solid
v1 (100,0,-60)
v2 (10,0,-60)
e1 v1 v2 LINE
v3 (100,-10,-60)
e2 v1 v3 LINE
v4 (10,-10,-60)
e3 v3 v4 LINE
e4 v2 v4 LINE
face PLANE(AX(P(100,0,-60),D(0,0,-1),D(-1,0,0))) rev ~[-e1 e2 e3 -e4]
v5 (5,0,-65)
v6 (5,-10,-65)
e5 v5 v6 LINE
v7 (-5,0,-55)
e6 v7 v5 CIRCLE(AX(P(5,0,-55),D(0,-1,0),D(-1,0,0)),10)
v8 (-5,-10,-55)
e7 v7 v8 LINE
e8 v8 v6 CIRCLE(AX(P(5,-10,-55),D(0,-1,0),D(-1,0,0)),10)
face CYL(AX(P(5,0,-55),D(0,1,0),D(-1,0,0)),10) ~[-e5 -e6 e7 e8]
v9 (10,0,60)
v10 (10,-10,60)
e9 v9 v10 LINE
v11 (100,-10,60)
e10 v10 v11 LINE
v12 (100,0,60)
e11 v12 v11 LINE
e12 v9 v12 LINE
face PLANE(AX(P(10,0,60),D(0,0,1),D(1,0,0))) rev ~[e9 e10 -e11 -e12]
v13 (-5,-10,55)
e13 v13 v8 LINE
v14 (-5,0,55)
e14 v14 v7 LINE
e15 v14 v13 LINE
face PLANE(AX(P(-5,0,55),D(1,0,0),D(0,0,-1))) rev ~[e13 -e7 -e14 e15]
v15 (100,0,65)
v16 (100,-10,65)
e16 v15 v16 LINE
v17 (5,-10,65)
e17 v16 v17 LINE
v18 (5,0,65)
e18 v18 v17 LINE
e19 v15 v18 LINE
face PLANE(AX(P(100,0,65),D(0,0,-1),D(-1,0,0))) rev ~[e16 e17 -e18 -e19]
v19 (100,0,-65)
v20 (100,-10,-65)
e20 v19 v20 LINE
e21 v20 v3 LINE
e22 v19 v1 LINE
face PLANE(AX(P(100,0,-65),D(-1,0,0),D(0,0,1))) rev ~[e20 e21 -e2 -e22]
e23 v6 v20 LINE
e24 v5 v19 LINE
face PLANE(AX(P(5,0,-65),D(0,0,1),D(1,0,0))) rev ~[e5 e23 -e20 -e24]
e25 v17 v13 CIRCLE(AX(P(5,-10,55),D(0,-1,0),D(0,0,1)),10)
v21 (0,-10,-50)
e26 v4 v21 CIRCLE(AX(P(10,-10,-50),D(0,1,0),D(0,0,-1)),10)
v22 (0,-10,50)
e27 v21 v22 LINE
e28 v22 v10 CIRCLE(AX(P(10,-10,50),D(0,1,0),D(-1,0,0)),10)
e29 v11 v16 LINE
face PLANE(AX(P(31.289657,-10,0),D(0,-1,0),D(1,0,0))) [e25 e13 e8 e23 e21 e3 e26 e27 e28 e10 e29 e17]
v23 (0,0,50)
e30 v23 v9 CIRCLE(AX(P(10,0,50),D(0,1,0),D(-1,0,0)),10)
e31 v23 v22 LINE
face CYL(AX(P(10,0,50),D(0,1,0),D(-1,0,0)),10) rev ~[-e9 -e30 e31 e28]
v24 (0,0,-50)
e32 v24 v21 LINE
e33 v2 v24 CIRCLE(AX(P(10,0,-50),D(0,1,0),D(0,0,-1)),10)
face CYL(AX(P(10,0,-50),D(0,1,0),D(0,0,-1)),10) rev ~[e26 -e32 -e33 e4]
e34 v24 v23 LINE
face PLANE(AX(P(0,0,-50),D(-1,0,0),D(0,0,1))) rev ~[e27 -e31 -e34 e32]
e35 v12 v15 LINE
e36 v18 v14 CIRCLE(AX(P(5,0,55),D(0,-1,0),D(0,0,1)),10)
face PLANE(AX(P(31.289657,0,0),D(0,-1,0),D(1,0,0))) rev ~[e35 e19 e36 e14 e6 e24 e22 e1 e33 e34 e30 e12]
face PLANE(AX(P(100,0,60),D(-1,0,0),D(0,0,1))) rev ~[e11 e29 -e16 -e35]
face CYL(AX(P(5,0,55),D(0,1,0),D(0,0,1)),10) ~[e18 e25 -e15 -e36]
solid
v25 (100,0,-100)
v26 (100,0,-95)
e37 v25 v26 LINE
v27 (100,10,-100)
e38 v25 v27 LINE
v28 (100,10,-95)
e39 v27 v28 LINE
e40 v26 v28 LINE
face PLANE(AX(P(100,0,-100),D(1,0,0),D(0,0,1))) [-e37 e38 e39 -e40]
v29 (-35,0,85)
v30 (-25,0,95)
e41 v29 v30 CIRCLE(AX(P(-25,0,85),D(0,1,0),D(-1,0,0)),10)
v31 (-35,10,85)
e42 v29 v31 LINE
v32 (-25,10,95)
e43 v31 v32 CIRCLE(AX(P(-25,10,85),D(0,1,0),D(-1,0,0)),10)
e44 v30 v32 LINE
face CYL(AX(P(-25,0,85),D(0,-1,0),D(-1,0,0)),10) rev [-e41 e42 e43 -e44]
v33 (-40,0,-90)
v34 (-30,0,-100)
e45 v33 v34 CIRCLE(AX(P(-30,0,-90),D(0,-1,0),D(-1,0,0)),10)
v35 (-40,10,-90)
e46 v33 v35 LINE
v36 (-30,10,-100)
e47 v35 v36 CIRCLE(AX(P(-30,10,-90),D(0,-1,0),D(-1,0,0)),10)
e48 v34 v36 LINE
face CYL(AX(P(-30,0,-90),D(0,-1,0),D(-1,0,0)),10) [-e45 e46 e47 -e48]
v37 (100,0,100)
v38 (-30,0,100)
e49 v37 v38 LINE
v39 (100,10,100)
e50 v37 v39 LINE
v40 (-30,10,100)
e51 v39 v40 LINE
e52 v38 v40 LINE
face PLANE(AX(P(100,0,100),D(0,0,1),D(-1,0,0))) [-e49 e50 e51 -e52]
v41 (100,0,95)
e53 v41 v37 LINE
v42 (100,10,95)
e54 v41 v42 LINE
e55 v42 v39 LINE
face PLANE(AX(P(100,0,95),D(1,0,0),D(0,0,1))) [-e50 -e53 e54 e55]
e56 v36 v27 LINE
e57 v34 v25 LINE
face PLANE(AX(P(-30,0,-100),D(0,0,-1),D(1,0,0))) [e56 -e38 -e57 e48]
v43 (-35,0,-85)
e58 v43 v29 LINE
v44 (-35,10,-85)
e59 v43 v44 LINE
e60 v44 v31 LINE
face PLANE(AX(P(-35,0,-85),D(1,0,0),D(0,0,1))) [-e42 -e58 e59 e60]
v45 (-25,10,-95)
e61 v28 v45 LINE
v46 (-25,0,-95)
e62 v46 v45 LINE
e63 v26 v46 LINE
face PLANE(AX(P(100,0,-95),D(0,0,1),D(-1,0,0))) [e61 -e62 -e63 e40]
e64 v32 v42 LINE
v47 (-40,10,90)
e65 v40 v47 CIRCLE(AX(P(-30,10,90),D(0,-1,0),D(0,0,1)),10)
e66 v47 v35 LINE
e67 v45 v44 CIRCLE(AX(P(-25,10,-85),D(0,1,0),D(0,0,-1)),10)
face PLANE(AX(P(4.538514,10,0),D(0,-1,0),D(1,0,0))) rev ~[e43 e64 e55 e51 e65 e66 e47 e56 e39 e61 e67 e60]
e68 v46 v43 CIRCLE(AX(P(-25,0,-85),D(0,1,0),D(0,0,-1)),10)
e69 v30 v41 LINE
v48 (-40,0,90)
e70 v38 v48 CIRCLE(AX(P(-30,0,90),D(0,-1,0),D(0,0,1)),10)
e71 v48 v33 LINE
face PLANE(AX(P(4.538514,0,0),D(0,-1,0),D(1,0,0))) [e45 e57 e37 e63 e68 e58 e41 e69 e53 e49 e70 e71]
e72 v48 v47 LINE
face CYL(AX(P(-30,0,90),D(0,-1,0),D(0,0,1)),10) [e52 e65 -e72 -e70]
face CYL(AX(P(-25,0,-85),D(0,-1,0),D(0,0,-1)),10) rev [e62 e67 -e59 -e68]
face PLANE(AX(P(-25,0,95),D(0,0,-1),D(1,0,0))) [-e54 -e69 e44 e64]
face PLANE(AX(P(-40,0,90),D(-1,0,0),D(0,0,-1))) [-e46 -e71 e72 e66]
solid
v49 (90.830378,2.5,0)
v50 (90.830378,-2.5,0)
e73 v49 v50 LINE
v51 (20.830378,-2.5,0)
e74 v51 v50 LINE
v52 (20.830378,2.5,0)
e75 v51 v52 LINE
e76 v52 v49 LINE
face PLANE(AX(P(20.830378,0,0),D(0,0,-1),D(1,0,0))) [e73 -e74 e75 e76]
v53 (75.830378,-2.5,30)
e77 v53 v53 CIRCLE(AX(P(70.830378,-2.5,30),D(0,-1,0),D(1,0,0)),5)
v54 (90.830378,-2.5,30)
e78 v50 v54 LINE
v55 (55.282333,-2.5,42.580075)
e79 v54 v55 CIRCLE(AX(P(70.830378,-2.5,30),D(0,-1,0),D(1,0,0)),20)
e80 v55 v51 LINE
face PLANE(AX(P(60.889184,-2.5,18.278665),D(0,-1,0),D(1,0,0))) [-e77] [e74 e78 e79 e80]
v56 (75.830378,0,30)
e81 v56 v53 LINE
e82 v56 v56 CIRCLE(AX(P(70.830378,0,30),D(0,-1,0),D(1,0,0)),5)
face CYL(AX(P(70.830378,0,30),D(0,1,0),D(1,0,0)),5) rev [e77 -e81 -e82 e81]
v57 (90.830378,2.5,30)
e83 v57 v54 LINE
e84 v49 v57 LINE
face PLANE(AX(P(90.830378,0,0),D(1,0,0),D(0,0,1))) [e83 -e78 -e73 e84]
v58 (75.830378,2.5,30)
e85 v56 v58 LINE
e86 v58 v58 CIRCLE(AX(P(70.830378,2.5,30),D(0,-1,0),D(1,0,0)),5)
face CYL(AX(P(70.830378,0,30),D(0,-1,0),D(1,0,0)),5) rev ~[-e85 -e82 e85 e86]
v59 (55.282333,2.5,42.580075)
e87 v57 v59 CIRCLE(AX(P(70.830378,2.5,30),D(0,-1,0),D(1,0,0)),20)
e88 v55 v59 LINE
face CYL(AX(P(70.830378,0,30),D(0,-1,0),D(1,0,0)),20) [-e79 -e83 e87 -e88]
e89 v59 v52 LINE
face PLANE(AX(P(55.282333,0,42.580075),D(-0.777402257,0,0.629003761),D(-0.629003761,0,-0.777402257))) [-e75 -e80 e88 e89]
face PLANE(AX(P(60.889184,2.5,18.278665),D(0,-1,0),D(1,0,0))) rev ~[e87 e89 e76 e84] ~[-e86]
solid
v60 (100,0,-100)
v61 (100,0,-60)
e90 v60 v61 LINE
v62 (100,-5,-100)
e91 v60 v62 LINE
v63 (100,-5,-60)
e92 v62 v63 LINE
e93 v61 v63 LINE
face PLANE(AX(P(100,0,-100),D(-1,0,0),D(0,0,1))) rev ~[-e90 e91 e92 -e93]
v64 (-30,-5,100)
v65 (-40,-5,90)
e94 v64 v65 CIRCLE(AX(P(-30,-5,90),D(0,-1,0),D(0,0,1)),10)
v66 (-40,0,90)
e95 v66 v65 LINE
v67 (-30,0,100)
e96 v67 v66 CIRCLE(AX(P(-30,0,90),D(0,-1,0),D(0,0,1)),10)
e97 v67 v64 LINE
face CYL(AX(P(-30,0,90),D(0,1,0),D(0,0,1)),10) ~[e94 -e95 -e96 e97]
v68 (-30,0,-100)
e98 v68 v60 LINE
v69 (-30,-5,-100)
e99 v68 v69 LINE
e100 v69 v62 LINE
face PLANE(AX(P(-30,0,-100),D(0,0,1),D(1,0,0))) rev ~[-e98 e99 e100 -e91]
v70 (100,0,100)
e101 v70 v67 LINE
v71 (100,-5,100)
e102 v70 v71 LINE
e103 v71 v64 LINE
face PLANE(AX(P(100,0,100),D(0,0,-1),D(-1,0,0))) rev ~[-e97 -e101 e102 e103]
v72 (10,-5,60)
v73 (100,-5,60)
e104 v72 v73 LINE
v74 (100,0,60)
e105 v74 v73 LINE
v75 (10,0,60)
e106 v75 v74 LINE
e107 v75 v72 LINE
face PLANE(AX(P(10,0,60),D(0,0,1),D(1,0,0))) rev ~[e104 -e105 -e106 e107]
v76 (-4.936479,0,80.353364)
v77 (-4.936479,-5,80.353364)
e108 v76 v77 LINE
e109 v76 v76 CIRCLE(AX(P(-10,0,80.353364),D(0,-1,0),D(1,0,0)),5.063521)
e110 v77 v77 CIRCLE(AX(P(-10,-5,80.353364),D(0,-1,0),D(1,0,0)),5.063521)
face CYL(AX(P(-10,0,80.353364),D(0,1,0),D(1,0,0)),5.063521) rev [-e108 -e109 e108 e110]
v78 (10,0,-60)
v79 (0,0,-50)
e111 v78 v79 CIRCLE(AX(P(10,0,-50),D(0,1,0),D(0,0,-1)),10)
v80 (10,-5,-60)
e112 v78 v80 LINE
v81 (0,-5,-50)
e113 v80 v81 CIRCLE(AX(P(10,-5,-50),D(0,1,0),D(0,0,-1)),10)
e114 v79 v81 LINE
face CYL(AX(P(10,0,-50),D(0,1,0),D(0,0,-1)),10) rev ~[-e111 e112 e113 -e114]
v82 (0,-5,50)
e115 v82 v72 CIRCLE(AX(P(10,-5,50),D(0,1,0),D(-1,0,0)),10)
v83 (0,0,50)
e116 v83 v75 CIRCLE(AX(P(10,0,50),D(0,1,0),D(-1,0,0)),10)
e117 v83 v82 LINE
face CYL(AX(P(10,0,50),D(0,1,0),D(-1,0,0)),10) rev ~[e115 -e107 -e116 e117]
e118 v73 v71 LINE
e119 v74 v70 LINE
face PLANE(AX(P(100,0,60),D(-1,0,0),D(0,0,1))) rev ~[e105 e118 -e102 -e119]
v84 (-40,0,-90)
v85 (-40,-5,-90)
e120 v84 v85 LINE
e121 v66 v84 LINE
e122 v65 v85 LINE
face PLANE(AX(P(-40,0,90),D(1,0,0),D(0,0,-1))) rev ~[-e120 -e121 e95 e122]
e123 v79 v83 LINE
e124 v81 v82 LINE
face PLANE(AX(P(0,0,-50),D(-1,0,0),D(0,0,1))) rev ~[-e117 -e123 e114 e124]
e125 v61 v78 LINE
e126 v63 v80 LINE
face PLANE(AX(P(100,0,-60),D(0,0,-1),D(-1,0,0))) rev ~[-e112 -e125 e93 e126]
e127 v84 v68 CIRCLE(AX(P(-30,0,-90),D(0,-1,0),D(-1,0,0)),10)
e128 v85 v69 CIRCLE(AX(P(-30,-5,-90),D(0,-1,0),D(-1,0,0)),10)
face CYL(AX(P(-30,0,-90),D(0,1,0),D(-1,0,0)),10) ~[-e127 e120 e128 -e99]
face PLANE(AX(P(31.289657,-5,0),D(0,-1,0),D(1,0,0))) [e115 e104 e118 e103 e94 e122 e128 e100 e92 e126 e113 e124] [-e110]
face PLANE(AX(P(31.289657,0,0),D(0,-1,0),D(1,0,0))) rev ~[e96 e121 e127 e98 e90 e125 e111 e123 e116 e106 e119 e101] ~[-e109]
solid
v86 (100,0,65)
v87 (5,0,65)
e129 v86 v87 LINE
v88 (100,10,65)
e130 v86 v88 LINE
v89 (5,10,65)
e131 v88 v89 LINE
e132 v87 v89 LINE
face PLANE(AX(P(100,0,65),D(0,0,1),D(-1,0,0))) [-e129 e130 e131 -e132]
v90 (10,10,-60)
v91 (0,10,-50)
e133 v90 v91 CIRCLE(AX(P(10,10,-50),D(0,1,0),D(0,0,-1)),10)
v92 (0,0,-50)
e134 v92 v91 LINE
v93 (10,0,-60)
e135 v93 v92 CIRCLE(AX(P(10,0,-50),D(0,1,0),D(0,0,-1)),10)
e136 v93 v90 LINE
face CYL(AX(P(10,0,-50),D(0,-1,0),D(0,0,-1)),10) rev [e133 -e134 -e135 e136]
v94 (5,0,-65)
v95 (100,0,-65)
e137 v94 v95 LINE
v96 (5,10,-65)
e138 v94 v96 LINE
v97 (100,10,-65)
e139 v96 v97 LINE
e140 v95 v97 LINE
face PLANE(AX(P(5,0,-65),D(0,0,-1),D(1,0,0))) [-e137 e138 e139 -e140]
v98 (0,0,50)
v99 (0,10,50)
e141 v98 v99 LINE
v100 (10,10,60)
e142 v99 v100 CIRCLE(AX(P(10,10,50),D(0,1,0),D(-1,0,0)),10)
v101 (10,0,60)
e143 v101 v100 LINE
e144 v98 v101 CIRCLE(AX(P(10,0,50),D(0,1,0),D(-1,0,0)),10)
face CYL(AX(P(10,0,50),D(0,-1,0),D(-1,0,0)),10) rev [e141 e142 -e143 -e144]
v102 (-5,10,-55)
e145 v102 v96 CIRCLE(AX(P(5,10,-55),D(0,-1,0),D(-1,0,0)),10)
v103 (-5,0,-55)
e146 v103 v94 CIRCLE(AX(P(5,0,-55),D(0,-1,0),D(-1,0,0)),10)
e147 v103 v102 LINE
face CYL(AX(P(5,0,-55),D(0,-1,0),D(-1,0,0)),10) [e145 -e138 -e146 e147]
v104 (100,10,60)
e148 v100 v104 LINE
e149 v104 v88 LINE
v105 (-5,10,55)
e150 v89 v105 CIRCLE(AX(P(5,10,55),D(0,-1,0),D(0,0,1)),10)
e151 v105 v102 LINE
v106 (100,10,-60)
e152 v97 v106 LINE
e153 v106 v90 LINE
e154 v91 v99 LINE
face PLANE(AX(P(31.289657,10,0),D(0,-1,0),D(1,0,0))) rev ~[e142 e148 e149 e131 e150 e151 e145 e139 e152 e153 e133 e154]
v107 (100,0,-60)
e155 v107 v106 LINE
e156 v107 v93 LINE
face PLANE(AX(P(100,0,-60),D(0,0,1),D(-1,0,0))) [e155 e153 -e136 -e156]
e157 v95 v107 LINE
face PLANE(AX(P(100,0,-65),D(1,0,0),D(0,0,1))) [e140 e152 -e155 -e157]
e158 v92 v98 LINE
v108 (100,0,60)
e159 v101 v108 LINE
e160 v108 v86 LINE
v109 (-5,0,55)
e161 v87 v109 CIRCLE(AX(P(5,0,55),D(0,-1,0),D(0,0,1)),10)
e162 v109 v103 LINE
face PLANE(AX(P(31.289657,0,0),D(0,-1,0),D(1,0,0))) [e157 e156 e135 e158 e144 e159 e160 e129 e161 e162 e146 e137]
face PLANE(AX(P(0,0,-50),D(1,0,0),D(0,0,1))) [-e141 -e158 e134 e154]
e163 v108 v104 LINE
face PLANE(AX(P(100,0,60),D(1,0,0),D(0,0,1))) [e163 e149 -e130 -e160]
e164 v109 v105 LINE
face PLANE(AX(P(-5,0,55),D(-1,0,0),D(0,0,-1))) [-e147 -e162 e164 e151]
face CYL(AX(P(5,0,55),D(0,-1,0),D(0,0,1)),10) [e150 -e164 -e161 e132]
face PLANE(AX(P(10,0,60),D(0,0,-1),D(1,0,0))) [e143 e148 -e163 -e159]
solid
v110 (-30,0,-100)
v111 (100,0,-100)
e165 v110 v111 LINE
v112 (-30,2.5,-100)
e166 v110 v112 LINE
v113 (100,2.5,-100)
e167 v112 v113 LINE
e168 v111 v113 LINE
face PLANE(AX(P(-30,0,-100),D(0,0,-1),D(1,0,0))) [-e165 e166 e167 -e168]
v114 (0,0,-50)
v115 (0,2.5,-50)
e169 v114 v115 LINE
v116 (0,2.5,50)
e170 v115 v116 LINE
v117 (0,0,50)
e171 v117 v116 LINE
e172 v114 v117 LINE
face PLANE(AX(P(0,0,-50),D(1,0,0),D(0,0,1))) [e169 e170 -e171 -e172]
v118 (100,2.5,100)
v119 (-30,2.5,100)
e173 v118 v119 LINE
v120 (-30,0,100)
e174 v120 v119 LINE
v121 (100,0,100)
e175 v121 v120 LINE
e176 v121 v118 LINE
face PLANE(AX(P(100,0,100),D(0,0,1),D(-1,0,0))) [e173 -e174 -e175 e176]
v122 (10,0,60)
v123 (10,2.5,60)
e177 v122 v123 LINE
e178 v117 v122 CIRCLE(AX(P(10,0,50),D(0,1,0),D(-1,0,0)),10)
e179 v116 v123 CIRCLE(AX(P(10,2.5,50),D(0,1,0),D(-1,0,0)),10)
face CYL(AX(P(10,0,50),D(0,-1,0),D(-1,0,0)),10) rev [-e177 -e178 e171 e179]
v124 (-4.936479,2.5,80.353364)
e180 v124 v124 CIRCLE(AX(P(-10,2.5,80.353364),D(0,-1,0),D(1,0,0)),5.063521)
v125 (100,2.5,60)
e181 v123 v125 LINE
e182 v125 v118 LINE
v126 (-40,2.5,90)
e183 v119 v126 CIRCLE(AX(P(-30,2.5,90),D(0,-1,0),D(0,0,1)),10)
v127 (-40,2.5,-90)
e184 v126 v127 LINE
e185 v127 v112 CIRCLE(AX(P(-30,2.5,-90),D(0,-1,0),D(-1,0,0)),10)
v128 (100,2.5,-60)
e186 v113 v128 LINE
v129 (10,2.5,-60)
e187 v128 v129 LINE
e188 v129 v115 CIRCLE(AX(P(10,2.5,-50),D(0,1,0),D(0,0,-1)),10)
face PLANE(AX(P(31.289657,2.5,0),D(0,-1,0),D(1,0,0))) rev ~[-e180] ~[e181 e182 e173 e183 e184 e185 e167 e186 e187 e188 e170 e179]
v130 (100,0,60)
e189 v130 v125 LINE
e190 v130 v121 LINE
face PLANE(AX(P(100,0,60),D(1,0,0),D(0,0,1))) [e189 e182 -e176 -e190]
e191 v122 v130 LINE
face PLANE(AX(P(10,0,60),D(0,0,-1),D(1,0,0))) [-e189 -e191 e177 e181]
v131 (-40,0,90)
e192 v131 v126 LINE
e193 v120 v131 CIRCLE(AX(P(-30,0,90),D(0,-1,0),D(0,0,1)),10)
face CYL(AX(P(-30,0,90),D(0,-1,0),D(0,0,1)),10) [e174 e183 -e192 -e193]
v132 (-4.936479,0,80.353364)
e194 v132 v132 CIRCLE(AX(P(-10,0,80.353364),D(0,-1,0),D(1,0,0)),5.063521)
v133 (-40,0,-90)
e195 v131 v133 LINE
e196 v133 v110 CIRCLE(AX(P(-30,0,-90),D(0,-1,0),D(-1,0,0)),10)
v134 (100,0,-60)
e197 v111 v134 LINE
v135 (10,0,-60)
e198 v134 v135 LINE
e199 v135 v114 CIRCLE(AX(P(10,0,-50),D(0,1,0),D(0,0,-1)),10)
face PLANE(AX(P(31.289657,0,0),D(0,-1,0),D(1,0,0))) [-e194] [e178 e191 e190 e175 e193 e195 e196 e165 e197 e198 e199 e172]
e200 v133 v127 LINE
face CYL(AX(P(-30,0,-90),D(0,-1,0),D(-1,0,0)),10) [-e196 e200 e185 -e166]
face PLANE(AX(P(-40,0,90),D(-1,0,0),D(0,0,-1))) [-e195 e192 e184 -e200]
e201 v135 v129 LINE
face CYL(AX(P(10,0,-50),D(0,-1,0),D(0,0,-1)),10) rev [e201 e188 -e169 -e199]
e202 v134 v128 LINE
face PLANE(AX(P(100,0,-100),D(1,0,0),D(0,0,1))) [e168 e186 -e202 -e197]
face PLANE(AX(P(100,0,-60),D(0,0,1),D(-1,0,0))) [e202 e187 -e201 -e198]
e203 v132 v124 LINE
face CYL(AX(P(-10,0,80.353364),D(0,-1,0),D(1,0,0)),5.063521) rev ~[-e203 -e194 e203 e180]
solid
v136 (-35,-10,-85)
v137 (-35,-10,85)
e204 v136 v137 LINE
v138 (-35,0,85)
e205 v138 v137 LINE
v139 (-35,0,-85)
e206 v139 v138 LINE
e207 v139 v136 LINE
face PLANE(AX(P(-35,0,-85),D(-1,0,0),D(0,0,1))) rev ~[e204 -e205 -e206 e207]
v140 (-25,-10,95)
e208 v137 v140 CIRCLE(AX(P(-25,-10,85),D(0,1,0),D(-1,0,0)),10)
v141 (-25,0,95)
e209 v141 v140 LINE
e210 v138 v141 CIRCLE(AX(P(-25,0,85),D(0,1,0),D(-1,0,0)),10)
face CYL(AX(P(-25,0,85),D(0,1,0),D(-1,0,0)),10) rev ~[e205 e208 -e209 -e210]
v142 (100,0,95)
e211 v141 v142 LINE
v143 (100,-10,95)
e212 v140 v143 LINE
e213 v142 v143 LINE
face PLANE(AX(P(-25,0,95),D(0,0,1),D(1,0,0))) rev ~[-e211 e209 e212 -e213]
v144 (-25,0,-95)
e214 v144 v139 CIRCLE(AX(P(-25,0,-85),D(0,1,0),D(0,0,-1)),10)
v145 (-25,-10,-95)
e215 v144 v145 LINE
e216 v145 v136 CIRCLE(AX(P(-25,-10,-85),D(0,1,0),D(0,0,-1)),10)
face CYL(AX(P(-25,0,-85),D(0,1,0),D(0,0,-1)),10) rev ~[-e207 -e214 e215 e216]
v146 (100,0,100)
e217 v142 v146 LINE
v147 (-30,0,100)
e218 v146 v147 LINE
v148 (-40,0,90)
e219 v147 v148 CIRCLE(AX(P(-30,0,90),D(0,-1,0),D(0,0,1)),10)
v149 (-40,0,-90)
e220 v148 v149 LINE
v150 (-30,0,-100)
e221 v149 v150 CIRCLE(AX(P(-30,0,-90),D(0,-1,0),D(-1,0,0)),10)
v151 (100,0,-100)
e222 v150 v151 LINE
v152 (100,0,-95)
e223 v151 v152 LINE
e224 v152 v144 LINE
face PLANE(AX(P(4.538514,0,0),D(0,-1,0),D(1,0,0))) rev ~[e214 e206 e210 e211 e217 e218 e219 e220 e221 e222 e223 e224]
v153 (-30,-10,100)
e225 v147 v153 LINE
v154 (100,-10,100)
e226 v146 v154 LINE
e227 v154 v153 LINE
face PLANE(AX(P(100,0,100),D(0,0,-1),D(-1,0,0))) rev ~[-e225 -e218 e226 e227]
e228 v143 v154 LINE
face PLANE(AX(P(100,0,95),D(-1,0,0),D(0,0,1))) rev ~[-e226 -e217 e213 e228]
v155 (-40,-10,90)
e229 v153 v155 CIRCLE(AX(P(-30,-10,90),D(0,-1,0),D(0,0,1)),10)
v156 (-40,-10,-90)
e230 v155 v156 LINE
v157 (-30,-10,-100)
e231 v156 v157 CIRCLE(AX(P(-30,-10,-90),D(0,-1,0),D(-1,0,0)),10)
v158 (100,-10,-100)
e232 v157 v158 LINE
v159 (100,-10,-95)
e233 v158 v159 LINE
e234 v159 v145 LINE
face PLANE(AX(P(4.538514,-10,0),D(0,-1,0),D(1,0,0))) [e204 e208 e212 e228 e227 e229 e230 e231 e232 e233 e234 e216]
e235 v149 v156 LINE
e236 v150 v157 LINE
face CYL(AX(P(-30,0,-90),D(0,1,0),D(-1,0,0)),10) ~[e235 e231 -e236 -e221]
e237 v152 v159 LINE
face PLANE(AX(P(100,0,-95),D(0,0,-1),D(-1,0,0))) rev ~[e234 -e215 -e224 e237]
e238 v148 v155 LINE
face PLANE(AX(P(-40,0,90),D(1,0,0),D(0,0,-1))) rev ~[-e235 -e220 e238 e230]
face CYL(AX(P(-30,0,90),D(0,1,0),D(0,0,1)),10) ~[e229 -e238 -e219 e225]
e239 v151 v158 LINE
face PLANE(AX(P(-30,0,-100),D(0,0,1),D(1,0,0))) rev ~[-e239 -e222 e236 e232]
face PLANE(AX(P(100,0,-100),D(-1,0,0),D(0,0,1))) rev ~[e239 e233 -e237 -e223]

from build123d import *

# Parameters (mm, degrees)
F1_DEPTH = 10
F2_DEPTH = 10
F0_R     = 5.0635209728
F3_DEPTH = 5
F4_DEPTH = 2.5
F5_R     = 5
F6_DEPTH = 2.5
F7_DEPTH = 2.5


with BuildPart() as f1:
    # F0 (on Front) → F1 (new body)
    with BuildSketch(Plane.XZ):
        with BuildLine():
            Line((-25, 95), (100, 95))
            Line((100, 95), (100, 100))
            Line((100, 100), (-30, 100))
            ThreePointArc((-30, 100), (-37.0710678119, 97.0710678119), (-40, 90))
            Line((-40, 90), (-40, 0))
            Line((-40, 0), (-40, -90))
            ThreePointArc((-40, -90), (-37.0710678119, -97.0710678119), (-30, -100))
            Line((-30, -100), (100, -100))
            Line((100, -100), (100, -95))
            Line((100, -95), (-25, -95))
            ThreePointArc((-25, -95), (-32.0710678119, -92.0710678119), (-35, -85))
            Line((-35, -85), (-35, 85))
            ThreePointArc((-35, 85), (-32.0710678119, 92.0710678119), (-25, 95))
        make_face()
    extrude(amount=F1_DEPTH)


with BuildPart() as f1b:
    # F0 (on Front) → F1, piece 2 (new body)
    with BuildSketch(Plane.XZ):
        with BuildLine():
            Line((0, -50), (0, 0))
            Line((0, 0), (0, 50))
            ThreePointArc((0, 50), (2.9289321881, 57.0710678119), (10, 60))
            Line((10, 60), (100, 60))
            Line((100, 60), (100, 65))
            Line((100, 65), (5, 65))
            ThreePointArc((5, 65), (-2.0710678119, 62.0710678119), (-5, 55))
            Line((-5, 55), (-5, -55))
            ThreePointArc((-5, -55), (-2.0710678119, -62.0710678119), (5, -65))
            Line((5, -65), (100, -65))
            Line((100, -65), (100, -60))
            Line((100, -60), (10, -60))
            ThreePointArc((10, -60), (2.9289321881, -57.0710678119), (0, -50))
        make_face()
    extrude(amount=F1_DEPTH)


with BuildPart() as f2:
    # F2 (new): a face of the model
    f2_faces = [f1.part.faces().sort_by_distance(p)[0] for p in [
        (-37.4413111231, 0, 0),
    ]]
    extrude(f2_faces, amount=F2_DEPTH)


with BuildPart() as f2b:
    # F2#2 (new): a face of the model
    f2_2_faces = [f1b.part.faces().sort_by_distance(p)[0] for p in [
        (-1.6710774967, 0, 0),
    ]]
    extrude(f2_2_faces, amount=F2_DEPTH)


with BuildPart() as f3:
    # F0 (on Front) → F3 (new body)
    with BuildSketch(Plane.XZ):
        with BuildLine():
            Line((0, -50), (0, 0))
            Line((0, 0), (0, 50))
            ThreePointArc((0, 50), (2.9289321881, 57.0710678119), (10, 60))
            Line((10, 60), (100, 60))
            Line((100, 60), (100, 65))
            Line((100, 65), (5, 65))
            ThreePointArc((5, 65), (-2.0710678119, 62.0710678119), (-5, 55))
            Line((-5, 55), (-5, -55))
            ThreePointArc((-5, -55), (-2.0710678119, -62.0710678119), (5, -65))
            Line((5, -65), (100, -65))
            Line((100, -65), (100, -60))
            Line((100, -60), (10, -60))
            ThreePointArc((10, -60), (2.9289321881, -57.0710678119), (0, -50))
        make_face()
        with BuildLine():
            Line((5, 65), (100, 65))
            Line((100, 65), (100, 95))
            Line((100, 95), (-25, 95))
            ThreePointArc((-25, 95), (-32.0710678119, 92.0710678119), (-35, 85))
            Line((-35, 85), (-35, -85))
            ThreePointArc((-35, -85), (-32.0710678119, -92.0710678119), (-25, -95))
            Line((-25, -95), (100, -95))
            Line((100, -95), (100, -65))
            Line((100, -65), (5, -65))
            ThreePointArc((5, -65), (-2.0710678119, -62.0710678119), (-5, -55))
            Line((-5, -55), (-5, 55))
            ThreePointArc((-5, 55), (-2.0710678119, 62.0710678119), (5, 65))
        make_face()
        with Locations((-10, 80.3533643484)):
            Circle(F0_R, mode=Mode.SUBTRACT)
        with BuildLine():
            Line((-25, 95), (100, 95))
            Line((100, 95), (100, 100))
            Line((100, 100), (-30, 100))
            ThreePointArc((-30, 100), (-37.0710678119, 97.0710678119), (-40, 90))
            Line((-40, 90), (-40, 0))
            Line((-40, 0), (-40, -90))
            ThreePointArc((-40, -90), (-37.0710678119, -97.0710678119), (-30, -100))
            Line((-30, -100), (100, -100))
            Line((100, -100), (100, -95))
            Line((100, -95), (-25, -95))
            ThreePointArc((-25, -95), (-32.0710678119, -92.0710678119), (-35, -85))
            Line((-35, -85), (-35, 85))
            ThreePointArc((-35, 85), (-32.0710678119, 92.0710678119), (-25, 95))
        make_face()
    extrude(amount=F3_DEPTH)


with BuildPart() as f4:
    # F4 (new): a face of the model
    f4_faces = [f3.part.faces().sort_by_distance(p)[0] for p in [
        (-2.4413111231, 0, 0),
    ]]
    extrude(f4_faces, amount=F4_DEPTH)


with BuildPart() as f6:
    # F5 (on Front) → F6 (new body)
    with BuildSketch(Plane.XZ):
        with BuildLine():
            Line((20.8303779364, 0), (90.8303779364, 0))
            Line((90.8303779364, 0), (90.8303779364, 30))
            ThreePointArc((90.8303779364, 30), (77.5026750427, 48.8541892248), (55.2823328039, 42.5800752207))
            Line((55.2823328039, 42.5800752207), (20.8303779364, 0))
        make_face()
        with Locations((70.8303779364, 30)):
            Circle(F5_R, mode=Mode.SUBTRACT)
    extrude(amount=F6_DEPTH)

    # F7 (add): a face of the model
    f7_faces = [f6.faces().sort_by_distance(p)[0] for p in [
        (63.5665137167, 0, 20.2914976507),
    ]]
    extrude(f7_faces, amount=F7_DEPTH)


solid = Compound([f1.part, f1b.part, f2.part, f2b.part, f3.part, f4.part, f6.part])
